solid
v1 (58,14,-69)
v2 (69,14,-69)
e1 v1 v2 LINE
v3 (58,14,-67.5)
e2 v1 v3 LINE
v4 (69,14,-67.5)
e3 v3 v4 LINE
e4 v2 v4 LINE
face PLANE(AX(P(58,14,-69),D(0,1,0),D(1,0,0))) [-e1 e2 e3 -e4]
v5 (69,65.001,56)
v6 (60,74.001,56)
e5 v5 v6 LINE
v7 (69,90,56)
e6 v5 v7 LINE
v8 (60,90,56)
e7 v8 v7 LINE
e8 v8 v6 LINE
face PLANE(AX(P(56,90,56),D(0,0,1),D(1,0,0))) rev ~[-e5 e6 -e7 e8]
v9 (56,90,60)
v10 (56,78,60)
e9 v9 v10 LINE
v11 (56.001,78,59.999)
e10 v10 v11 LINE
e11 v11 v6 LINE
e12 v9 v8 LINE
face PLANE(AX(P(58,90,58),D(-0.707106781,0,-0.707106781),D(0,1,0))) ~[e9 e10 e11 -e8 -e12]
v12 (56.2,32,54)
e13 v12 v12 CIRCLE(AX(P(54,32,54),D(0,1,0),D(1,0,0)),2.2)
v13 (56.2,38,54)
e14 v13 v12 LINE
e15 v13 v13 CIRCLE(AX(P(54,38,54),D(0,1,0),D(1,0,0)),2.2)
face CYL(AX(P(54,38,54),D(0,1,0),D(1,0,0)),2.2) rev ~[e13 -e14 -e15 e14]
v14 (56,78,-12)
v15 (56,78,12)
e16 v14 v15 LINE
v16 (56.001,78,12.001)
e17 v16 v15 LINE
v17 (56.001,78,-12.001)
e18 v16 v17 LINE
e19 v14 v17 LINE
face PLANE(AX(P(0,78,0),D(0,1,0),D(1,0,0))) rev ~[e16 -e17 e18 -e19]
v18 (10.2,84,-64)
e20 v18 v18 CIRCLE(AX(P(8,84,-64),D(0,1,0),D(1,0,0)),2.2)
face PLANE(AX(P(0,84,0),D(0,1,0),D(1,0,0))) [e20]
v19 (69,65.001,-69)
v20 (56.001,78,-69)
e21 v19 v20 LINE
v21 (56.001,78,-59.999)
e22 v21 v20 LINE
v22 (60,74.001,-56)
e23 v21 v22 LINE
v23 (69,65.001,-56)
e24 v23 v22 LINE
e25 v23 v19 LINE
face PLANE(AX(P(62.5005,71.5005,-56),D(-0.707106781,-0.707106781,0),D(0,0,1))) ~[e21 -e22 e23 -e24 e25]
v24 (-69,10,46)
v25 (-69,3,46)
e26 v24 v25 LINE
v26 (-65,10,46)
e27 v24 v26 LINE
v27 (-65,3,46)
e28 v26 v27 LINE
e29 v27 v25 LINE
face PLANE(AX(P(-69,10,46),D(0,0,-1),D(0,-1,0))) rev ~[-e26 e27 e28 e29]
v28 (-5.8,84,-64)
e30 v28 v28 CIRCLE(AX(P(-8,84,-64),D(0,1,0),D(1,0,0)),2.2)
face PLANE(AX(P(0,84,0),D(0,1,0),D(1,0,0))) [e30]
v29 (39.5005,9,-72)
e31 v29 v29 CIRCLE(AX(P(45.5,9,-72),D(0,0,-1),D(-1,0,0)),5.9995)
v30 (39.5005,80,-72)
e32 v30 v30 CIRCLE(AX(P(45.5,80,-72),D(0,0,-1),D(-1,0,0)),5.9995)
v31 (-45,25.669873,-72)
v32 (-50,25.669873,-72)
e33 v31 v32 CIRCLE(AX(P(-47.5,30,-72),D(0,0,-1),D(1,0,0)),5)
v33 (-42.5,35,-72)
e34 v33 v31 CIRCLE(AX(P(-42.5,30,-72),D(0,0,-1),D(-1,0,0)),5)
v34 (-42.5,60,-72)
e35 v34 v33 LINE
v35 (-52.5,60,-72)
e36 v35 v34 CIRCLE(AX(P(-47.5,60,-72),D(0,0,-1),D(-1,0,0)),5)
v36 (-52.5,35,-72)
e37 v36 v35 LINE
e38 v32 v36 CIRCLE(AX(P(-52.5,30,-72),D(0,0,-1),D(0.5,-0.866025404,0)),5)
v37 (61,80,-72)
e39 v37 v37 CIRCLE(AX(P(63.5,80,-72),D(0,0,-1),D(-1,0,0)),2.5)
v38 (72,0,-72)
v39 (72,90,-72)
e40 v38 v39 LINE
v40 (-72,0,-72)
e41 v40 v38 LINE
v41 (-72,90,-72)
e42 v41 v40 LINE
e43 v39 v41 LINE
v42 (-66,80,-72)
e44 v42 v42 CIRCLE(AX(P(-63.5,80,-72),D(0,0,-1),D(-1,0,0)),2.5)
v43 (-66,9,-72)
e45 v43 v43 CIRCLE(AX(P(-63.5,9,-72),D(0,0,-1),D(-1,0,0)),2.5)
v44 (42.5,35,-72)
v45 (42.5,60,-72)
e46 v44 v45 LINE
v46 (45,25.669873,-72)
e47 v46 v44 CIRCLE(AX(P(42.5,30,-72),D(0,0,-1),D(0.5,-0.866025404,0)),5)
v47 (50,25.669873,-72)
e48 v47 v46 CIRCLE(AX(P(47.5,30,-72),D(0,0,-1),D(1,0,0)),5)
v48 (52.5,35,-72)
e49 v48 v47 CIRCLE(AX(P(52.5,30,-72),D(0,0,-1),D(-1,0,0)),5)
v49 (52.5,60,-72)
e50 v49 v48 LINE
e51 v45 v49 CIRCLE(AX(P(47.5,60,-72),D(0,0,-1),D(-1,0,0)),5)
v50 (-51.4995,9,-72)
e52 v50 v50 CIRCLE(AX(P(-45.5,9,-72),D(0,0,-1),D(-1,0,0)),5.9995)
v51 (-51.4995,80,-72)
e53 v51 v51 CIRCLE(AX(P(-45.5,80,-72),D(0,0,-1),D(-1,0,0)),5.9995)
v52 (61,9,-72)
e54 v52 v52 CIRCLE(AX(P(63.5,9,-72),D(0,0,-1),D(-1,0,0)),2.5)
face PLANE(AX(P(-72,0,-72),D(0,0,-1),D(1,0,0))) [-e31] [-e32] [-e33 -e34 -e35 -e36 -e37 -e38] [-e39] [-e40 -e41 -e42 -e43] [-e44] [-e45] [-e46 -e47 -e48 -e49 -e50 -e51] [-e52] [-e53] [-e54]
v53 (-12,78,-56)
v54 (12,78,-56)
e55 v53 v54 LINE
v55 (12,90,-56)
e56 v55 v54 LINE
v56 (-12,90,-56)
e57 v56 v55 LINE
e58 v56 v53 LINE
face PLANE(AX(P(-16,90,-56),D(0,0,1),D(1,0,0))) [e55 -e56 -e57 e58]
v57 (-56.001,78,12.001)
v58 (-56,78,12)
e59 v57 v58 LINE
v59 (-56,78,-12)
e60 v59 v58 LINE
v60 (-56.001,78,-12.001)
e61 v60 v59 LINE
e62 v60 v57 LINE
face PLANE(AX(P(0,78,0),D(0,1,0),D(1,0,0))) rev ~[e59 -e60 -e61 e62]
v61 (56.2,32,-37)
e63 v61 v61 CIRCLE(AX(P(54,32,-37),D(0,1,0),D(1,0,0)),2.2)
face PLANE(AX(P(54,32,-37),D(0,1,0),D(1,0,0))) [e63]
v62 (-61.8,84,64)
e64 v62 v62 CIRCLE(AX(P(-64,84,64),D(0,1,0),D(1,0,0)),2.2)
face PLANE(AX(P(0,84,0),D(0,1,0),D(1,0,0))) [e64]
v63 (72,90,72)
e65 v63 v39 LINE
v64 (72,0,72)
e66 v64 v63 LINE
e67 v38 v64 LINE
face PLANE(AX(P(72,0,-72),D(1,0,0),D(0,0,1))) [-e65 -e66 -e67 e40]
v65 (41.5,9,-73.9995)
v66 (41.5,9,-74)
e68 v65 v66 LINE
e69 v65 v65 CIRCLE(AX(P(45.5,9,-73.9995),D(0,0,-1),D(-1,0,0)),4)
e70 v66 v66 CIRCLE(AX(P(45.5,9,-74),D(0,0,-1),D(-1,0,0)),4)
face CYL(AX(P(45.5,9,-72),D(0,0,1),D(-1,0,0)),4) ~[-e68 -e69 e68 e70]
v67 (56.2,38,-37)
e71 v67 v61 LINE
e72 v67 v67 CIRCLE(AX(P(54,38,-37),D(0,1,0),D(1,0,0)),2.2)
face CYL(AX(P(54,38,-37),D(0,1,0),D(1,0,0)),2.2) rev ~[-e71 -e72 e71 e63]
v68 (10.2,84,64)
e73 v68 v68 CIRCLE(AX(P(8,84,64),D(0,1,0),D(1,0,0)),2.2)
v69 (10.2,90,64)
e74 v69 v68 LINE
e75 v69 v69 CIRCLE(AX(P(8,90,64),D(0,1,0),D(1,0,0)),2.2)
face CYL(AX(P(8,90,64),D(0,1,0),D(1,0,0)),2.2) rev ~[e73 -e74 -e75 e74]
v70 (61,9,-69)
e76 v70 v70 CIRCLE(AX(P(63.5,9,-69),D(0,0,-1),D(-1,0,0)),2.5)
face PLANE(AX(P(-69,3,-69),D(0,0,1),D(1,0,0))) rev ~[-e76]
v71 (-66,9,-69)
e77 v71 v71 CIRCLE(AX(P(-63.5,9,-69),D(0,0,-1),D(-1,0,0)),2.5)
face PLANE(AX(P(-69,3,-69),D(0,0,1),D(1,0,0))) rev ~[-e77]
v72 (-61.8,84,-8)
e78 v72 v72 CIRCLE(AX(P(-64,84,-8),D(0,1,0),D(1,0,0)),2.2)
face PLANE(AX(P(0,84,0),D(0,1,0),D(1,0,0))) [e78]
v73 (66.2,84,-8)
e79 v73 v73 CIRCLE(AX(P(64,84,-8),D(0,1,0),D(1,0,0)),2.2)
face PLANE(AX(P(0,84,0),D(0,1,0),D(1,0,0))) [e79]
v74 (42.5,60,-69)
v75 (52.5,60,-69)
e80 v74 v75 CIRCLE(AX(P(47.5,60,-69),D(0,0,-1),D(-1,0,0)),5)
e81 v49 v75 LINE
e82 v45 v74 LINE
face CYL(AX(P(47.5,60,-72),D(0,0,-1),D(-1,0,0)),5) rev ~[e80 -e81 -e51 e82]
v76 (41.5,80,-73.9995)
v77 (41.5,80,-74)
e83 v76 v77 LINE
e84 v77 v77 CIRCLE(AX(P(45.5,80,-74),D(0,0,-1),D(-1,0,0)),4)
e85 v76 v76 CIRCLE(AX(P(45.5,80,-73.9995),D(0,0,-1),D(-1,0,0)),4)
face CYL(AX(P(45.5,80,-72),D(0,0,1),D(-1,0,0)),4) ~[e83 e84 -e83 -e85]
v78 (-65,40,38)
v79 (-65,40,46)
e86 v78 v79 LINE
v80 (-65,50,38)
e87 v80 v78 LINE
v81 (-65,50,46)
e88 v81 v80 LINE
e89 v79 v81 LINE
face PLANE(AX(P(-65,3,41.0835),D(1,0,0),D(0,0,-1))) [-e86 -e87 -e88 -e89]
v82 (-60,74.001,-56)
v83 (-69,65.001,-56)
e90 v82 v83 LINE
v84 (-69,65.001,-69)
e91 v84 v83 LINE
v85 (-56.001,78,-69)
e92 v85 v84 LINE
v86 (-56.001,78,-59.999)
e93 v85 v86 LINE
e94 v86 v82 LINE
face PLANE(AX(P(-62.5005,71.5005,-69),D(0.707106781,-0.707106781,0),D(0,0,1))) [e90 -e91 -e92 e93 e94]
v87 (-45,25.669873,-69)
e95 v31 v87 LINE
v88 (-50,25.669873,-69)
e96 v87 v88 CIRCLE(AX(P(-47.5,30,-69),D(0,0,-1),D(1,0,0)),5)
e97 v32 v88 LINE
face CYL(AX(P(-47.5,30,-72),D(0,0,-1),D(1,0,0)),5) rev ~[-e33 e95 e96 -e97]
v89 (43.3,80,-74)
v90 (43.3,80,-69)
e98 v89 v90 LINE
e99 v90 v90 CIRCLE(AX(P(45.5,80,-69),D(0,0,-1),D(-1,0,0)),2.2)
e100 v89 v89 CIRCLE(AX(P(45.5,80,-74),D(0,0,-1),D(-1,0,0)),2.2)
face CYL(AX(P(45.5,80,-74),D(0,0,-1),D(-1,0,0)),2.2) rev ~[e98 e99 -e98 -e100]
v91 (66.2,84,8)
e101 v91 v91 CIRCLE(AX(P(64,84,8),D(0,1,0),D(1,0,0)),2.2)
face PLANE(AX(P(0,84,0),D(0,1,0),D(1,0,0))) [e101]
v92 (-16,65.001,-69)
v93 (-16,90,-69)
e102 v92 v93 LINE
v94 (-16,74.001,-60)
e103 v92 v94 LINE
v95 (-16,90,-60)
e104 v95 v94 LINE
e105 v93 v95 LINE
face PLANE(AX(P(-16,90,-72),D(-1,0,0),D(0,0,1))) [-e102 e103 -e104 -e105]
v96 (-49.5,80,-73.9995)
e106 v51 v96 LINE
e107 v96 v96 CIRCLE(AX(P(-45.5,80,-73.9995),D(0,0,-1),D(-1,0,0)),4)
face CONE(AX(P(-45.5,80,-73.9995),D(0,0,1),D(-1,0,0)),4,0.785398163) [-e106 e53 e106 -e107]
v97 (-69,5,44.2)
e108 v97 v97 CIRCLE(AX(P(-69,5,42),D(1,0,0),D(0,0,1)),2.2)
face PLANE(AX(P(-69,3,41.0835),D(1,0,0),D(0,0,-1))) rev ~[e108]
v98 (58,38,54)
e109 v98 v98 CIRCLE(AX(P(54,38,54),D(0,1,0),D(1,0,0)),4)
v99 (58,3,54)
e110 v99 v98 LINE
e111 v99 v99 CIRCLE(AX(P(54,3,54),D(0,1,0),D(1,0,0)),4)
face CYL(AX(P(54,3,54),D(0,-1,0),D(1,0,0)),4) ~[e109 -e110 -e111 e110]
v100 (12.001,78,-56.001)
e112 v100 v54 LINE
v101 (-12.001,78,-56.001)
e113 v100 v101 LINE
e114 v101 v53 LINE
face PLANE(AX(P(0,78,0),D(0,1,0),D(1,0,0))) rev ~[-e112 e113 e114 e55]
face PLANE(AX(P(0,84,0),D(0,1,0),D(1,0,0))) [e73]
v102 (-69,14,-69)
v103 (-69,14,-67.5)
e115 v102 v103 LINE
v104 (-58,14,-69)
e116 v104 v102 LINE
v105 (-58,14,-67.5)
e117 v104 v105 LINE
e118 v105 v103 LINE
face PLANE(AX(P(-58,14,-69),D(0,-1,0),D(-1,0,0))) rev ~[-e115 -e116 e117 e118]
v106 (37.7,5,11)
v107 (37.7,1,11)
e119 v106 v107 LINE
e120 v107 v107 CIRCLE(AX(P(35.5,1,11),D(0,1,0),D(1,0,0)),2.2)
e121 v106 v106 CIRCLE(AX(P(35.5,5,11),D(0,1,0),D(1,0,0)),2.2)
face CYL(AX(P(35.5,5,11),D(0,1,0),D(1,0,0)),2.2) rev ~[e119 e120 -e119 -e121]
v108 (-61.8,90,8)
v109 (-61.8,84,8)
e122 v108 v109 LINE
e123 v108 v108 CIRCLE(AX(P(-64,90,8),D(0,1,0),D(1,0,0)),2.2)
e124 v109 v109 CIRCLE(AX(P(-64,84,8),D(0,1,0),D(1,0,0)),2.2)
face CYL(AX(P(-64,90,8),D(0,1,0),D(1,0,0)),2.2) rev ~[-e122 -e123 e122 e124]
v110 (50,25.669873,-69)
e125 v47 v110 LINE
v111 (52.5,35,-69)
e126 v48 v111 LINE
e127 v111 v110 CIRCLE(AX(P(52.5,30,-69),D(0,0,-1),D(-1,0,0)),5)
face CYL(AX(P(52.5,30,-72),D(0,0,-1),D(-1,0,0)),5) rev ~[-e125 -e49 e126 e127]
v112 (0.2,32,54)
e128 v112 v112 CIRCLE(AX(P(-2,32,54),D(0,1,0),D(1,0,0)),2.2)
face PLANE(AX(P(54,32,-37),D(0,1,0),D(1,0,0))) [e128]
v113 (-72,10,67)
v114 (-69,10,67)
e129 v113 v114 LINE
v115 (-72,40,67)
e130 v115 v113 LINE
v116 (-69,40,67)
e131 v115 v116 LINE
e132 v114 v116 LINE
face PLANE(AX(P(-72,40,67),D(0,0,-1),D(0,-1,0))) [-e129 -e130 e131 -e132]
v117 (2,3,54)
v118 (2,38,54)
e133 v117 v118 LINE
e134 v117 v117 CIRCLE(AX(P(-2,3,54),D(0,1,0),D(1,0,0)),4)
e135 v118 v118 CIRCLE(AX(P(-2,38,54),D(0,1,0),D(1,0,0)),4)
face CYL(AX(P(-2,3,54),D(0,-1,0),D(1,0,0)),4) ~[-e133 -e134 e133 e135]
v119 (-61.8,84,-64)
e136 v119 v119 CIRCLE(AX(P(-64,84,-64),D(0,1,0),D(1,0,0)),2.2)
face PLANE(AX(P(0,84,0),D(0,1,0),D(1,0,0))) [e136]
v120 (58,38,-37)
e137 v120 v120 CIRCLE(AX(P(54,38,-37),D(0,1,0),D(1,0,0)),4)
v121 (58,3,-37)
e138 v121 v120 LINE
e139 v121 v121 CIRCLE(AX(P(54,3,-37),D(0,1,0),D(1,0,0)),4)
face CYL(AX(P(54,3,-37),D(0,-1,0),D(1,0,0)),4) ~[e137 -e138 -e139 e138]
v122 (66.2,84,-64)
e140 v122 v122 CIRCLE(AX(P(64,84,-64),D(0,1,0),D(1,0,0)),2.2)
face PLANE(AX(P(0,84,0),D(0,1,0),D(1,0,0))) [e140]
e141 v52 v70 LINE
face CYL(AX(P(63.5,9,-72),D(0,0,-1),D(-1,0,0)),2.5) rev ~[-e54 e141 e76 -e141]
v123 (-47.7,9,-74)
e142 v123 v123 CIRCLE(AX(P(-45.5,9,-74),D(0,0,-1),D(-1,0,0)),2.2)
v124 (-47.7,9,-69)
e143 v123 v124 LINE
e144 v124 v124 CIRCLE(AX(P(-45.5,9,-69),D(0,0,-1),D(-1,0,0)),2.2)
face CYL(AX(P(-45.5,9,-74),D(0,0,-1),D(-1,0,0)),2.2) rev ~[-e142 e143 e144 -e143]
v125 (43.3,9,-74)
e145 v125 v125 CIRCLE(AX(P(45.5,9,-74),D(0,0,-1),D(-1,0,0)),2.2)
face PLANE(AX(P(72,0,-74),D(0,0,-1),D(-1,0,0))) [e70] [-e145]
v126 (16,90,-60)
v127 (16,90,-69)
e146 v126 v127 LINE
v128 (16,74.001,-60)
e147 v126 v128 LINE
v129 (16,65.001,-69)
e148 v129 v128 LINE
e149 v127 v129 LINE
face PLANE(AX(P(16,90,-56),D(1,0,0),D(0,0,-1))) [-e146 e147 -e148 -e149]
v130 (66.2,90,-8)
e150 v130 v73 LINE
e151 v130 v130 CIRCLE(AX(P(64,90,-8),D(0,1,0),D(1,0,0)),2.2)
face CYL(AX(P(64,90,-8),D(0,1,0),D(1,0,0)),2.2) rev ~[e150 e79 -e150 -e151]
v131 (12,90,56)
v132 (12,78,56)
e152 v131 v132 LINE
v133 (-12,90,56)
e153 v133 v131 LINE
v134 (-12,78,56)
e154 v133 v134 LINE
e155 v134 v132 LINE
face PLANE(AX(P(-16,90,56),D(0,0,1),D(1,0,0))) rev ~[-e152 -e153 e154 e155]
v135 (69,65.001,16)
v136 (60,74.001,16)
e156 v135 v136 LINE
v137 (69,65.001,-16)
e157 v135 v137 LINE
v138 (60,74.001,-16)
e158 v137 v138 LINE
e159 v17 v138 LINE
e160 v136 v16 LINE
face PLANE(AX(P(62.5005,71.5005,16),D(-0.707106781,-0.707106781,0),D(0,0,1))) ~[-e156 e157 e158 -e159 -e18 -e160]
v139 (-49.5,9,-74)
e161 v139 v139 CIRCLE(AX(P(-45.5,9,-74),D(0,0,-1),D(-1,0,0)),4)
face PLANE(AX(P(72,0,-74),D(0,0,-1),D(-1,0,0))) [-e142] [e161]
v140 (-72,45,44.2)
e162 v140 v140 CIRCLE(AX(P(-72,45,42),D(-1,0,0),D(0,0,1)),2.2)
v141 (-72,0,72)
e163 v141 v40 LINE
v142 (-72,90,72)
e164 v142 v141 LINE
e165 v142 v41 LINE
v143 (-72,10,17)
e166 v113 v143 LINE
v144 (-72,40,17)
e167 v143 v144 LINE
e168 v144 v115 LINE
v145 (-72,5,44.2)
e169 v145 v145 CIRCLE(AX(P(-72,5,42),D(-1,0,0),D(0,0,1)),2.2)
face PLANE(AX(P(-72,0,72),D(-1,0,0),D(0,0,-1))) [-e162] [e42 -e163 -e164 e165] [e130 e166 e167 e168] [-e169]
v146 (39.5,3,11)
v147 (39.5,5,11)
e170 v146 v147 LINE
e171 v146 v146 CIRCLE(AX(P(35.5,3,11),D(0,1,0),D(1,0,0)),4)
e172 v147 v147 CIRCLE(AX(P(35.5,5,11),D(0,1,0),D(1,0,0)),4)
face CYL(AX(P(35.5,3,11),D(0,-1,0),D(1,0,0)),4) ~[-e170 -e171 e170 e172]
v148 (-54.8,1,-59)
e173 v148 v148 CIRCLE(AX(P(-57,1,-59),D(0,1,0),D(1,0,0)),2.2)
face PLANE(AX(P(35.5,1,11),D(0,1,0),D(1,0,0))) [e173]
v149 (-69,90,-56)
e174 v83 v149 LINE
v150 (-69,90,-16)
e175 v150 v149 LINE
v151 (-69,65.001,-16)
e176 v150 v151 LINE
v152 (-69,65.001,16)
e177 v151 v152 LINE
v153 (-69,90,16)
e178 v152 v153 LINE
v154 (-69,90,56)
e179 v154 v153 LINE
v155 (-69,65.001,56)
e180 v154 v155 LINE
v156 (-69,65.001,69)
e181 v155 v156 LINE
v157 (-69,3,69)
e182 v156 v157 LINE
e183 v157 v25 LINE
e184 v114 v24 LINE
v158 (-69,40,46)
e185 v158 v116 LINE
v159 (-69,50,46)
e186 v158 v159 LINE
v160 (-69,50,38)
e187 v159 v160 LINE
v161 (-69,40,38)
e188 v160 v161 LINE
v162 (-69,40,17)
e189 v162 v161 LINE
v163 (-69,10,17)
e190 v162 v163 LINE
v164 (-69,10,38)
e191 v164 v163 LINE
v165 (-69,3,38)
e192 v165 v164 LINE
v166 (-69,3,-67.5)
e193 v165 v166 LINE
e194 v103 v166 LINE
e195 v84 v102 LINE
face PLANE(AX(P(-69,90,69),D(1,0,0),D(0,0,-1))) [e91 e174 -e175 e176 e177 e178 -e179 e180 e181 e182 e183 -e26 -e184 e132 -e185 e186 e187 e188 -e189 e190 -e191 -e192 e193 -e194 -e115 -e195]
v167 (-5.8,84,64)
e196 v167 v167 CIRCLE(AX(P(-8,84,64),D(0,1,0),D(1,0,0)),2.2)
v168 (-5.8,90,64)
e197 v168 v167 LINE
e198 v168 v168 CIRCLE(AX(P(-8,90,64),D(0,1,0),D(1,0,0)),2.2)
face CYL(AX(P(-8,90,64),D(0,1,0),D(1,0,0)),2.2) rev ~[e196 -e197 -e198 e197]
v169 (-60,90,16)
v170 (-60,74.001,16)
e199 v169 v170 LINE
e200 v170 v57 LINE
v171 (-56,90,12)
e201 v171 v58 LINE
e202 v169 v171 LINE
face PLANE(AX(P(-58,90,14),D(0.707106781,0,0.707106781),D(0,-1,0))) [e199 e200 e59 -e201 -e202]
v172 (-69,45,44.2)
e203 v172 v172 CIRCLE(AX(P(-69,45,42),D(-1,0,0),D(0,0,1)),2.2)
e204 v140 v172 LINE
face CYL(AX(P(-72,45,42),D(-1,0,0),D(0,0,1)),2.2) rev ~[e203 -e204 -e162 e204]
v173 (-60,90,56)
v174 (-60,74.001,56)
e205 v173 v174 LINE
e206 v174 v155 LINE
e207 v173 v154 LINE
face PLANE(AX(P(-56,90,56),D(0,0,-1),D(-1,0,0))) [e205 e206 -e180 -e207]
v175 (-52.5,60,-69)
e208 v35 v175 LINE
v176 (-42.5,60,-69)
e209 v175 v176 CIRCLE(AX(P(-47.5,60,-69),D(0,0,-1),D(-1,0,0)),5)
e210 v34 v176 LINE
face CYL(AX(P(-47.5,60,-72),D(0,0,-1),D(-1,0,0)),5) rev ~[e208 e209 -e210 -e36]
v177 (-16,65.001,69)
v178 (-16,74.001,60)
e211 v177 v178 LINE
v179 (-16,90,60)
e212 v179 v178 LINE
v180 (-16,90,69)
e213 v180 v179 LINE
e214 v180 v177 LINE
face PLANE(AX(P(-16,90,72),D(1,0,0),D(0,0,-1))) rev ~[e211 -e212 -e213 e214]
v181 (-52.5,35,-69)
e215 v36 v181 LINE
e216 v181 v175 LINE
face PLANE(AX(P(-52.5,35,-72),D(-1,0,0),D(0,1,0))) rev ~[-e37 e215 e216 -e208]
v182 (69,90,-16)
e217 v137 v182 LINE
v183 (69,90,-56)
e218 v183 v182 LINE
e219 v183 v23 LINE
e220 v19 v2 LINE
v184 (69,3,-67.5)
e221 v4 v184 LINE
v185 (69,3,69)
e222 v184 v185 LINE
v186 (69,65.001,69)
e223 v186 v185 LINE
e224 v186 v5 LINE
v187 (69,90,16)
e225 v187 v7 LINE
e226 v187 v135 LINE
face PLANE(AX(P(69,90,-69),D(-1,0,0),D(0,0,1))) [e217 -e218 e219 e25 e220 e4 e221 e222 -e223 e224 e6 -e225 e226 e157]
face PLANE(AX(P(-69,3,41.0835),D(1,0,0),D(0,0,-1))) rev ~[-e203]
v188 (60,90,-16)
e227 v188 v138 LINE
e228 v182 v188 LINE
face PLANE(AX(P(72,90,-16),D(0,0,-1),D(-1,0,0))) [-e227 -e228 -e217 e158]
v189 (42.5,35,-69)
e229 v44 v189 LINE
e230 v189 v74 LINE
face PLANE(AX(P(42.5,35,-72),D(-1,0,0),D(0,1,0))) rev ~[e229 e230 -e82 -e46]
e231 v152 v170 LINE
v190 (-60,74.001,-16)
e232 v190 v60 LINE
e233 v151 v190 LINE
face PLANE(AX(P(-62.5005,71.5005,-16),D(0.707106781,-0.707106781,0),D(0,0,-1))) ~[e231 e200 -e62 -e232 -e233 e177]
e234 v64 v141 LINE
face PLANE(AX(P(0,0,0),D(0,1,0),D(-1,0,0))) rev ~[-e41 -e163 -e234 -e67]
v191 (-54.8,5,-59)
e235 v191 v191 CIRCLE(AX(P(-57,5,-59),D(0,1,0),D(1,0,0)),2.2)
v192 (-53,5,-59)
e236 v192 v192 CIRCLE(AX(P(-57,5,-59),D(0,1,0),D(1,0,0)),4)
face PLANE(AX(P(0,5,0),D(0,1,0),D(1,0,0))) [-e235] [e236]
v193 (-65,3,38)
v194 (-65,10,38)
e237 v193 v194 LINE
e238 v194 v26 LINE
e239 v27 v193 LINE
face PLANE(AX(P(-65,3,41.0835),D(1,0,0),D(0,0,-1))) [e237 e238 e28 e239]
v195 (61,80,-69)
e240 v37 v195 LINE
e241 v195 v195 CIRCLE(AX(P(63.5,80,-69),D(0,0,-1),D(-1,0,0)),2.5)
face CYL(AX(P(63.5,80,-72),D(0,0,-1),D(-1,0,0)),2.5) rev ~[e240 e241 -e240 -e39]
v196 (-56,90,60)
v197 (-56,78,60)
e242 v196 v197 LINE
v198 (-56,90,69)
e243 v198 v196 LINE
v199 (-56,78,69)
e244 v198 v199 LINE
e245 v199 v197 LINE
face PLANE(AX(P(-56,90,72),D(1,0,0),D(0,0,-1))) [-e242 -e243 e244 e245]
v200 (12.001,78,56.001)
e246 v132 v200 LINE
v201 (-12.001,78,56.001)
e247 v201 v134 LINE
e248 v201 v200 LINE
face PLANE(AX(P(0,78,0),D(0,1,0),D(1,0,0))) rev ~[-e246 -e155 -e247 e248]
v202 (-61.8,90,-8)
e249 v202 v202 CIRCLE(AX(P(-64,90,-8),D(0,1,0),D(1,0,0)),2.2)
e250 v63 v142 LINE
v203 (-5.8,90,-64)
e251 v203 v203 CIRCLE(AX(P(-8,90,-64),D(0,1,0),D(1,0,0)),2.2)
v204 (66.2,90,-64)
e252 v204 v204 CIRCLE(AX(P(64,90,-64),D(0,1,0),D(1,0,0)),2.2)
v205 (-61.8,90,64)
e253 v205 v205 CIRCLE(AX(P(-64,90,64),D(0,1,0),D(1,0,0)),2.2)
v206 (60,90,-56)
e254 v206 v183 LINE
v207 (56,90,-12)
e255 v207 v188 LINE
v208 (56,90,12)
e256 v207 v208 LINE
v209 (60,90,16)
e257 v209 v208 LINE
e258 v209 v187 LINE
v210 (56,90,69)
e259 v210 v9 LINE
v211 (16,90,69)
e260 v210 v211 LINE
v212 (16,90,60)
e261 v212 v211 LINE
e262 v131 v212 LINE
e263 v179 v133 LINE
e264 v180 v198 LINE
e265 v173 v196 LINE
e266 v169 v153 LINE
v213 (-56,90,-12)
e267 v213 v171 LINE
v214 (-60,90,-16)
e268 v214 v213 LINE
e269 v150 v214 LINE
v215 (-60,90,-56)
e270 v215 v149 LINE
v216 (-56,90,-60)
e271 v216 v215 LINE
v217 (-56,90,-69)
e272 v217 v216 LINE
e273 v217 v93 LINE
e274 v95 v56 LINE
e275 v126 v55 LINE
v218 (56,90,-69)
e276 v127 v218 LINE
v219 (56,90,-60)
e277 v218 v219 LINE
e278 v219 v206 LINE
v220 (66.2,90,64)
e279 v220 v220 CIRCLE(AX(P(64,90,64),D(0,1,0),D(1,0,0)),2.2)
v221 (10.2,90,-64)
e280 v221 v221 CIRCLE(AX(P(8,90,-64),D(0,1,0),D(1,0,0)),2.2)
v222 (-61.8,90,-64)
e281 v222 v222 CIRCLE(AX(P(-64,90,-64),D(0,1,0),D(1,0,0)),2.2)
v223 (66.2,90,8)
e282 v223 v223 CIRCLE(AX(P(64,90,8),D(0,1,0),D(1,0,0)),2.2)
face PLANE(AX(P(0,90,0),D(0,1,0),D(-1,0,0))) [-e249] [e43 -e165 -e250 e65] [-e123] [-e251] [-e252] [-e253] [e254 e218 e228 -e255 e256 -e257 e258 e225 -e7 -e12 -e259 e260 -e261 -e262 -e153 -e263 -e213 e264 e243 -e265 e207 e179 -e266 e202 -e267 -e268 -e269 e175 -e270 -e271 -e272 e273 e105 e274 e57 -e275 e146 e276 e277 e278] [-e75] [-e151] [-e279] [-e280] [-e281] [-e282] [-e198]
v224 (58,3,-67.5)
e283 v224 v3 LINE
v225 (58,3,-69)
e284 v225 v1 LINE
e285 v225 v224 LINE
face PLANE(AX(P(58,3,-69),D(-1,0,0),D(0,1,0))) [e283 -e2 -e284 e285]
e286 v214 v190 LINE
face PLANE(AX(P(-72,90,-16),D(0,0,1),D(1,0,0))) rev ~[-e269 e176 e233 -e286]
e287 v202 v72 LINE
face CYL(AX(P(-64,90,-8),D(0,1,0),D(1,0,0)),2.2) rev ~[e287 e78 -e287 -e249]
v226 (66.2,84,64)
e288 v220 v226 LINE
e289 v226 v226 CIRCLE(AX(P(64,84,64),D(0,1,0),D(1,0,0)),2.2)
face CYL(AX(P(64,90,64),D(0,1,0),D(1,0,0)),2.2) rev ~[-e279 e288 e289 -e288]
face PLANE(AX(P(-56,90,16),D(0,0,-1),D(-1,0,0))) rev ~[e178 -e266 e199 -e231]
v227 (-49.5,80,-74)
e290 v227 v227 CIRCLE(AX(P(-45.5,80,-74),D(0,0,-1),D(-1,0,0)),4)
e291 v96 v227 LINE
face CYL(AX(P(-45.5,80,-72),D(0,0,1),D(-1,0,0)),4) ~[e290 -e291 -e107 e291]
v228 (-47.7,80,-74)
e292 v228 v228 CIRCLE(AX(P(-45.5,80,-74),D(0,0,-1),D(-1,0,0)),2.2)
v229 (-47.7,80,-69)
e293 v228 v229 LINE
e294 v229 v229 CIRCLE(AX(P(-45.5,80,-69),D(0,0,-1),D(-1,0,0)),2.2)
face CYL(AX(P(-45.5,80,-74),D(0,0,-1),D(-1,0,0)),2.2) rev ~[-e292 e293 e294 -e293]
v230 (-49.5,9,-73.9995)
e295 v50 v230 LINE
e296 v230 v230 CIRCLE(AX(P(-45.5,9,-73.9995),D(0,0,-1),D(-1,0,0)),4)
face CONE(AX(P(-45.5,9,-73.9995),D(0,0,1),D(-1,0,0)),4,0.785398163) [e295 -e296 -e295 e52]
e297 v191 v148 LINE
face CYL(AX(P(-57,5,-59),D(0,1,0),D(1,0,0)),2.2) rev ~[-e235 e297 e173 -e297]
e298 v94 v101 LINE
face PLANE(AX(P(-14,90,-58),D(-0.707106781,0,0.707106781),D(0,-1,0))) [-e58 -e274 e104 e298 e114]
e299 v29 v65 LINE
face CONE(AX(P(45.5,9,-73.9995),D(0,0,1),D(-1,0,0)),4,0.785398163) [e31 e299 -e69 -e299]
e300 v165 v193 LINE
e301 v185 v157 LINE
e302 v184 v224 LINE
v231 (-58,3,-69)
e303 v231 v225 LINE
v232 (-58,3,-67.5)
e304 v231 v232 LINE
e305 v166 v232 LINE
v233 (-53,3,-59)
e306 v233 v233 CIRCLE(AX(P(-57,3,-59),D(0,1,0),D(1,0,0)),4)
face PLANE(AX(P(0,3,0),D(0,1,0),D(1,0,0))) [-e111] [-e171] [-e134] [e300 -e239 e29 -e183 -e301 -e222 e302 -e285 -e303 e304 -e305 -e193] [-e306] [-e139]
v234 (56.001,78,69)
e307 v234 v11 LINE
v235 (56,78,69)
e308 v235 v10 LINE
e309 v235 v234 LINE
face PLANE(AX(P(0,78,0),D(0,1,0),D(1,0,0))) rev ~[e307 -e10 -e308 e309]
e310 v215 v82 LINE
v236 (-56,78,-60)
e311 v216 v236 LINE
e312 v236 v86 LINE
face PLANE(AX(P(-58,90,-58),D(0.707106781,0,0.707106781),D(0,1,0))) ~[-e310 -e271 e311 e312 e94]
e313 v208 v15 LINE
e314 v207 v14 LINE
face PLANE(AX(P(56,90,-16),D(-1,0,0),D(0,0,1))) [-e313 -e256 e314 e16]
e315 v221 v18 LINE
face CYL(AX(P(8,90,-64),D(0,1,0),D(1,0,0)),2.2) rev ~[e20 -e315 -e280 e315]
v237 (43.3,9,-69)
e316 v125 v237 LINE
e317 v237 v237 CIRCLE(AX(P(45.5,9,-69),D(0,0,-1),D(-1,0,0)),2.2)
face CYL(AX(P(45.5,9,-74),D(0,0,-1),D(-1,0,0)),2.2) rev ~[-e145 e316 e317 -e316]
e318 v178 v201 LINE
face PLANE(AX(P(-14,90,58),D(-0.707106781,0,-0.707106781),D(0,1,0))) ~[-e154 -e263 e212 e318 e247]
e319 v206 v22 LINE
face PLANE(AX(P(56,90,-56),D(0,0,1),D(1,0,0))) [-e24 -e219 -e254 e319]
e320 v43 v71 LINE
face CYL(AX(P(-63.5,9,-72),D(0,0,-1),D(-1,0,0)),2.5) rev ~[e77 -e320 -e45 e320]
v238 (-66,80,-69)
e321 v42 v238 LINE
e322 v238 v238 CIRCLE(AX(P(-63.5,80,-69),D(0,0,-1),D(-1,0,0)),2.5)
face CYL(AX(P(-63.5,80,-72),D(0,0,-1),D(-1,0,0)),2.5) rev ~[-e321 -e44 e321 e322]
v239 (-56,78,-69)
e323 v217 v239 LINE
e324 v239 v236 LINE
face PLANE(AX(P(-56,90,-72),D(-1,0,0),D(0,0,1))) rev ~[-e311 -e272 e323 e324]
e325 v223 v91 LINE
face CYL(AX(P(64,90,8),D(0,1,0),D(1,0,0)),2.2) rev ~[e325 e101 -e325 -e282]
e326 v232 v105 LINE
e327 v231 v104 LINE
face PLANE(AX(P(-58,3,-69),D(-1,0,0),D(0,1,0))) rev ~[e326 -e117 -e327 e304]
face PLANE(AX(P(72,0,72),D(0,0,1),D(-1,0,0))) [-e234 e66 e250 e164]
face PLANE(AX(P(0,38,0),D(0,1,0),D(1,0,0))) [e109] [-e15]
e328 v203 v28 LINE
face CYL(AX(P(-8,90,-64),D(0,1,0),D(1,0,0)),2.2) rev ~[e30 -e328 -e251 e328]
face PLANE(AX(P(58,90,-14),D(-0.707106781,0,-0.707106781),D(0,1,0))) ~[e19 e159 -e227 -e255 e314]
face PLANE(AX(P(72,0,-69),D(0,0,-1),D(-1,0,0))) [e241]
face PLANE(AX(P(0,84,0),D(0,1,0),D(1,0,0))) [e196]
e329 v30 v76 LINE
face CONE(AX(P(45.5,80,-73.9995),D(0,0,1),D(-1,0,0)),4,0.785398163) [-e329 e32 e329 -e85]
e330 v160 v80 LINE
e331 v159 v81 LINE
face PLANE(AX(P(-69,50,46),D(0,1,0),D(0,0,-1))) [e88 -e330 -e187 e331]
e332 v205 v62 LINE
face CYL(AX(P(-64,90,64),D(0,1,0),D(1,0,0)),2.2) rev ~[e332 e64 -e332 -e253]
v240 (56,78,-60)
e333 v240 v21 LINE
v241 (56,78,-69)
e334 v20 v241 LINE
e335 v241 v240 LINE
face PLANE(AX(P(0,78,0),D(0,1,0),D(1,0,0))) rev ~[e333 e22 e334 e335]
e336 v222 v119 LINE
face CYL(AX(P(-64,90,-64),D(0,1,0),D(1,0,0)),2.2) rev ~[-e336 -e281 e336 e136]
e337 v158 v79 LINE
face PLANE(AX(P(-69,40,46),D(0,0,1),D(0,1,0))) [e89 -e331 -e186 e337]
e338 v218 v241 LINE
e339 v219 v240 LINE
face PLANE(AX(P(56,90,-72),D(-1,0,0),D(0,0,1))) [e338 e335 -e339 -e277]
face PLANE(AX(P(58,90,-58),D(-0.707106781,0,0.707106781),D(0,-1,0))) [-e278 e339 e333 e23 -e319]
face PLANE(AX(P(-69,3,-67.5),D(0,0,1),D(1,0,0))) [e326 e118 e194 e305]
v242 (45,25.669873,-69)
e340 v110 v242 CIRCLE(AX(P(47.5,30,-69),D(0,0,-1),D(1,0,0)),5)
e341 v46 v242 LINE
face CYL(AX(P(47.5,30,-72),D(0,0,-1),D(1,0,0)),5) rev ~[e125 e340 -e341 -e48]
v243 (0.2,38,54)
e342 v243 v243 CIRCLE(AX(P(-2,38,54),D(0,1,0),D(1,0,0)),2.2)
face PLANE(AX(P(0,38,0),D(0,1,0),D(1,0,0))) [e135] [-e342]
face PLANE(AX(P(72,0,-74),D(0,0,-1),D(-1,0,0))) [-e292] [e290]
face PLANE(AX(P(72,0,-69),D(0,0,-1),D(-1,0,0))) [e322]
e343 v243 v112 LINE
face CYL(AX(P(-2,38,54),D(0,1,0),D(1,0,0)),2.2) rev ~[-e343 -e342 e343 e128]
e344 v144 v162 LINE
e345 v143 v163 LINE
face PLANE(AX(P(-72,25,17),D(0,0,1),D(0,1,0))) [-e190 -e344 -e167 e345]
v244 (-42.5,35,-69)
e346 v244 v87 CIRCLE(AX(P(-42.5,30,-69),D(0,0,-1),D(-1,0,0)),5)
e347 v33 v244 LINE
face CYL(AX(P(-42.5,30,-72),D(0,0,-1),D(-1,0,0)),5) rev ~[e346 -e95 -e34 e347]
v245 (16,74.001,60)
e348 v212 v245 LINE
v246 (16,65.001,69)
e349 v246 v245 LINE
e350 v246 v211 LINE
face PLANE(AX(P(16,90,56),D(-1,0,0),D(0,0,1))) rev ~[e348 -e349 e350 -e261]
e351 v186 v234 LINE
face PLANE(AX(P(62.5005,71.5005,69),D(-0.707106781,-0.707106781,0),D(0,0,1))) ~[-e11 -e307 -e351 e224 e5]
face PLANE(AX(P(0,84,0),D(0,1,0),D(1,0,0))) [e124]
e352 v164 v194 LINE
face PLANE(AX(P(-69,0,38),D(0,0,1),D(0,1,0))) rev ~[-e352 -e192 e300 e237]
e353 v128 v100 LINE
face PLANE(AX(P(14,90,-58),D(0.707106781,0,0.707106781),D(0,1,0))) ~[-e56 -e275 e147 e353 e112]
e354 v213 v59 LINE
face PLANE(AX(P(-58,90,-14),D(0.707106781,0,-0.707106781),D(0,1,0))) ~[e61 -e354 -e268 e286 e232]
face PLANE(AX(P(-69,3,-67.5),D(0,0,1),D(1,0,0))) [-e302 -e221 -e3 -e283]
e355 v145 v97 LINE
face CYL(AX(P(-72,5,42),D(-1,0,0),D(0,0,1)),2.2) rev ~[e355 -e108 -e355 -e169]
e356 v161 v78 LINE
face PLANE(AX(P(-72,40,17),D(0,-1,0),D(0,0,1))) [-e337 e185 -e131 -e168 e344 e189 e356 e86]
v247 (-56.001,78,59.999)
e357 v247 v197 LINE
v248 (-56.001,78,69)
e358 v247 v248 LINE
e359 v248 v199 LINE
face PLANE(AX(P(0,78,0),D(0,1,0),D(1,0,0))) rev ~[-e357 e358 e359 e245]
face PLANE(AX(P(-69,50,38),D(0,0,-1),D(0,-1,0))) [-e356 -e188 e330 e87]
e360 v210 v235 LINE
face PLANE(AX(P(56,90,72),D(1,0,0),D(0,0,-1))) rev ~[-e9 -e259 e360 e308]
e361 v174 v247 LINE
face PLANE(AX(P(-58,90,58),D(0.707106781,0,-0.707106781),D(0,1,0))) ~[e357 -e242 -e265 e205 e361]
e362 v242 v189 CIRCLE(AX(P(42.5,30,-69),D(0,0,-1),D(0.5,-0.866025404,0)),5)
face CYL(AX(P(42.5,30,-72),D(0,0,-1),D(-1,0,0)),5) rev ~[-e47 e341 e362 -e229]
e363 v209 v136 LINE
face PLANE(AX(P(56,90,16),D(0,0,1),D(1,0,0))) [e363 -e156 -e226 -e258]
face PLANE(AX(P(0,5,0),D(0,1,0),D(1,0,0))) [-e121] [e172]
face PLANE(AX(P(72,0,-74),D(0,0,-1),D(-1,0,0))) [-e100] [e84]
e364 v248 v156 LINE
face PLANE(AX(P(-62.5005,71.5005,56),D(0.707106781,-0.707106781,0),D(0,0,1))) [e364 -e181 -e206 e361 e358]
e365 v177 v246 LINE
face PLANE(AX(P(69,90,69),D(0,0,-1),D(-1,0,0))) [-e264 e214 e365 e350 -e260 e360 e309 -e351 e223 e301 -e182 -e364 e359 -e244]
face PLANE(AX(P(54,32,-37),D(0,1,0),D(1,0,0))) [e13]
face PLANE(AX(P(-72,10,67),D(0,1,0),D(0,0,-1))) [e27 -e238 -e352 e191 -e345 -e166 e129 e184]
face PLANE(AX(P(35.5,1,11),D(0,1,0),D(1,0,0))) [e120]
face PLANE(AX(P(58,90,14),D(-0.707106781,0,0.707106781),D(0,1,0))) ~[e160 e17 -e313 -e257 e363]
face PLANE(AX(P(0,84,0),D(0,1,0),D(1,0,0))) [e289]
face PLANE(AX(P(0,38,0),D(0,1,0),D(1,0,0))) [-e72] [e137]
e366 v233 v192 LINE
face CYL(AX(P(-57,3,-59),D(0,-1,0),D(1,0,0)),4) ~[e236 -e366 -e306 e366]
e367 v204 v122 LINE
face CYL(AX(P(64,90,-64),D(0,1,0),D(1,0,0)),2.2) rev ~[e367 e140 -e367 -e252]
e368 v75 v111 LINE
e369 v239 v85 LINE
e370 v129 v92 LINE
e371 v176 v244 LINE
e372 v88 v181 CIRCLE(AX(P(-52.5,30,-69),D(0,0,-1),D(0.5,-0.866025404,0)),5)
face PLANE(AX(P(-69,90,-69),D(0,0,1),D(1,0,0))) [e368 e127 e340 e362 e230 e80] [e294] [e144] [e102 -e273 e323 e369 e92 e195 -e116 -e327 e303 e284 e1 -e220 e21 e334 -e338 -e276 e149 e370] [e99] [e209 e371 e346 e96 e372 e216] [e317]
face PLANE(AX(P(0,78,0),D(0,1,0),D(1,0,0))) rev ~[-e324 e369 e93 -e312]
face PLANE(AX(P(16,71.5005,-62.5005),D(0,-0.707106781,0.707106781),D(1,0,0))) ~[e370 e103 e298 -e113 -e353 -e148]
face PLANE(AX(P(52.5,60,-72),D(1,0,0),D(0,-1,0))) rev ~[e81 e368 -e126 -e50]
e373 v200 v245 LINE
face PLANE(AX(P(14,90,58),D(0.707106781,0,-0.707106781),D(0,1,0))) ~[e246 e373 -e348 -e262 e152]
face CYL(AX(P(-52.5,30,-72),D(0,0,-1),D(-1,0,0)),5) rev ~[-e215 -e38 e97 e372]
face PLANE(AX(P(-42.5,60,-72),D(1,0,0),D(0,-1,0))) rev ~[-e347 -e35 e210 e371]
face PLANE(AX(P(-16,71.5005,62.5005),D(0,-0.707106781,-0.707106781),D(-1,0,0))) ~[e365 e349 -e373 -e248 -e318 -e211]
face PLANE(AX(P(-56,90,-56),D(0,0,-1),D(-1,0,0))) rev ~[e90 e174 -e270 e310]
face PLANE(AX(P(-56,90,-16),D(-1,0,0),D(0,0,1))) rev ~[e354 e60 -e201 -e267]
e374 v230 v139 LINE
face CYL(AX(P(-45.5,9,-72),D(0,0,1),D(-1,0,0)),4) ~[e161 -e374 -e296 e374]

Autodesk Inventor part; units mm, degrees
ref_plane "YZ Plane" through (0, 0, 0) normal (1, 0, 0) x (0, 1, 0)
ref_plane "XZ Plane" through (0, 0, 0) normal (0, 1, 0) x (-1, 0, 0)
ref_plane "XY Plane" through (0, 0, 0) normal (0, 0, 1) x (1, 0, 0)
sketch "Skizze1" plane through (0, 0, 0) normal (0, 1, 0) x (-1, 0, 0)
  line L0 (-72, 72) -> (72, 72)
  line L1 (72, 72) -> (72, -72)
  line L2 (72, -72) -> (-72, -72)
  line L3 (-72, -72) -> (-72, 72)
  line L4 (-72, 72) -> (72, -72) construction
  line L5 (72, 72) -> (-72, -72) construction
  point P0 (0, 0)
  dimension "d0" = 144
  dimension "d1" = 144
extrude "Extrusion1" add sketch "Skizze1" along normal blind 90
sketch "Skizze2" plane through (0, 90, 0) normal (0, 1, 0) x (1, 0, 0)
  line L0 (69, -69) -> (-69, -69)
  line L1 (-69, -69) -> (-69, 69)
  line L2 (-69, 69) -> (69, 69)
  line L3 (69, 69) -> (69, -69)
  line L4 (69, -69) -> (-69, 69) construction
  line L5 (-69, -69) -> (69, 69) construction
  line L6 (-72, 72) -> (-72, -72) projected
  line L7 (-72, -72) -> (72, -72) projected
  point P0 (0, 0)
  dimension "WALL" = 3
  dimension "d5" = 3
extrude "Extrusion2" cut sketch "Skizze2" against normal blind 87
sketch "Skizze7" plane through (-72, 0, -72) normal (-1, 0, 0) x (0, 0, 1)
  line L0 (89, 40) -> (139, 40)
  line L1 (139, 40) -> (139, 10)
  line L2 (139, 10) -> (89, 10)
  line L3 (89, 10) -> (89, 40)
  circle A0 centre (114, 45) radius 2.2
  line L4 (89, 25) -> (139, 25)
  circle A1 centre (114, 5) radius 2.2
  line L5 (144, 0) -> (144, 90) projected
  line L6 (0, 0) -> (144, 0) projected
  point P0 (72, 0)
  point P1 (114, 40)
  dimension "d35" = 30
  dimension "d36" = 50
  dimension "d37" = 4.4
  dimension "d38" = 40
  dimension "d41" = 5
  dimension "d42" = 10
extrude "Extrusion4" cut sketch "Skizze7" against normal blind 3
sketch "Skizze8" plane through (0, 90, 0) normal (0, 1, 0) x (1, 0, 0)
  line L0 (72, 72) -> (-72, 72) projected
  line L1 (72, 72) -> (56, 72)
  line L2 (56, 72) -> (56, 56)
  line L3 (56, 56) -> (72, 56)
  line L4 (72, 56) -> (72, 72)
  line L5 (-72, -72) -> (72, -72) projected
  line L6 (72, -72) -> (56, -72)
  line L7 (56, -72) -> (56, -56)
  line L8 (56, -56) -> (72, -56)
  line L9 (72, -56) -> (72, -72)
  line L10 (-72, -72) -> (-56, -72)
  line L11 (-56, -72) -> (-56, -56)
  line L12 (-56, -56) -> (-72, -56)
  line L13 (-72, -56) -> (-72, -72)
  line L14 (-72, 72) -> (-56, 72)
  line L15 (-56, 72) -> (-56, 56)
  line L16 (-56, 56) -> (-72, 56)
  line L17 (-72, 56) -> (-72, 72)
  line L18 (16, 72) -> (-16, 72)
  line L19 (-16, 72) -> (-16, 56)
  line L20 (-16, 56) -> (16, 56)
  line L21 (16, 56) -> (16, 72)
  line L22 (16, -72) -> (-16, -72)
  line L23 (-16, -72) -> (-16, -56)
  line L24 (-16, -56) -> (16, -56)
  line L25 (16, -56) -> (16, -72)
  line L26 (72, -72) -> (72, 72) projected
  line L27 (72, 16) -> (56, 16)
  line L28 (56, 16) -> (56, -16)
  line L29 (56, -16) -> (72, -16)
  line L30 (72, -16) -> (72, 16)
  line L31 (-72, 72) -> (-72, -72) projected
  line L32 (-72, 16) -> (-56, 16)
  line L33 (-56, 16) -> (-56, -16)
  line L34 (-56, -16) -> (-72, -16)
  line L35 (-72, -16) -> (-72, 16)
  point P0 (0, 0)
  point P1 (0, 56)
  point P2 (-56, 0)
  point P3 (56, 0)
  point P4 (-16, 72)
  point P5 (-72, -16)
  point P6 (-16, -72)
  dimension "d43" = 16
  dimension "INSERT_BLOCK" = 16
  dimension "d45" = 16
  dimension "d46" = 16
  dimension "d47" = 16
  dimension "d48" = 16
  dimension "d49" = 16
  dimension "d50" = 16
  dimension "d51" = 32
  dimension "d52" = 16
  dimension "d53" = 16
  dimension "d54" = 32
  dimension "d55" = 32
  dimension "d56" = 16
extrude "Extrusion5" add sketch "Skizze8" against normal blind 12 contours L4 L3 L2 L0 | L21 L20 L19 L0 | L26 L29 L28 L27 | L15 L16 L17 L0 | L9 L5 L7 L8 | L32 L33 L34 L31 | L5 L23 L24 L25 | L12 L11 L5 L13
chamfer "Fasen1" distance 13 angle 45 8 edges at (69, 78, -62.5) (69, 78, 0) (69, 78, 62.5) (0, 78, 69) (-69, 78, 62.5) (-69, 78, 0) (0, 78, -69) (-69, 78, -62.5)
sketch "Skizze9" plane through (0, 90, 0) normal (0, 1, 0) x (1, 0, 0)
  circle A0 centre (64, 64) radius 2.2
  line L0 (72, 72) -> (-72, 72) projected
  line L1 (72, -72) -> (72, 72) projected
  circle A1 centre (64, 8) radius 2.2
  circle A2 centre (8, 64) radius 2.2
  circle A3 centre (8, 8) radius 2.2
  circle A4 centre (64, -8) radius 2.2
  circle A5 centre (64, -64) radius 2.2
  circle A6 centre (8, -64) radius 2.2
  circle A7 centre (8, -8) radius 2.2
  circle A8 centre (-8, 64) radius 2.2
  circle A9 centre (-8, 8) radius 2.2
  circle A10 centre (-64, 8) radius 2.2
  circle A11 centre (-64, 64) radius 2.2
  circle A12 centre (-8, -8) radius 2.2
  circle A13 centre (-8, -64) radius 2.2
  circle A14 centre (-64, -64) radius 2.2
  circle A15 centre (-64, -8) radius 2.2
  point P0 (0, 0)
  dimension "INSERT_DIAMETER" = 4.4
  dimension "d63" = 8
  dimension "d64" = 8
  dimension "d68" = 56
  dimension "d71" = 56
  dimension "d76" = 72
  dimension "d79" = 72
extrude "Extrusion6" cut sketch "Skizze9" against normal blind 6
chamfer "Fasen2" distance 4 angle 45 12 edges at (56, 84, -56) (56, 84, -16) (56, 84, 16) (56, 84, 56) (16, 84, 56) (-16, 84, 56) (16, 84, -56) (-16, 84, -56) (-56, 84, -56) (-56, 84, -16) (-56, 84, 16) (-56, 84, 56)
sketch "Skizze10" plane through (-69, 3, 41.0835) normal (1, 0, 0) x (0, 0, -1)
  line L0 (3.0835, -3) -> (3.0835, 7)
  line L1 (3.0835, 7) -> (-4.9165, 7)
  line L2 (-4.9165, 7) -> (-4.9165, -3)
  line L3 (-4.9165, -3) -> (3.0835, -3)
  line L4 (3.0835, -3) -> (-4.9165, 7) construction
  line L5 (3.0835, 7) -> (-4.9165, -3) construction
  line L6 (3.0835, 47) -> (3.0835, 37)
  line L7 (3.0835, 37) -> (-4.9165, 37)
  line L8 (-4.9165, 37) -> (-4.9165, 47)
  line L9 (-4.9165, 47) -> (3.0835, 47)
  line L10 (3.0835, 47) -> (-4.9165, 37) construction
  line L11 (3.0835, 37) -> (-4.9165, 47) construction
  point P0 (41.0835, -3)
  point P1 (-0.9165, 2)
  point P2 (-0.9165, 42)
  dimension "d93" = 8
  dimension "d94" = 8
extrude "Extrusion7" add sketch "Skizze10" along normal blind 4
sketch "Skizze11" plane through (0, 3, 0) normal (0, 1, 0) x (1, 0, 0)
  circle A0 centre (-57, 59) radius 4
  circle A1 centre (35.5, -11) radius 4
  line L0 (-69, 69) -> (69, 69) projected
  line L1 (-69, -38) -> (-69, 69) projected
  point P0 (0, 0)
  dimension "d95" = 8
  dimension "d96" = 8
  dimension "d97" = 10
  dimension "d98" = 12
  dimension "d99" = 70
  dimension "d100" = 92.5
extrude "Extrusion8" add sketch "Skizze11" along normal blind 2
sketch "Skizze12" plane through (35.5, 5, 11) normal (0, 1, 0) x (1, 0, 0)
  circle A0 centre (0, 0) radius 2.2
  circle A1 centre (-92.5, 70) radius 4 projected
  circle A2 centre (-92.5, 70) radius 2.2
  point P0 (-35.5, 11)
  dimension "d103" = 4.4
  dimension "d104" = 4.4
extrude "Extrusion9" cut sketch "Skizze12" against normal blind 4 contours A0 | A2
sketch "Skizze13" plane through (72, 0, -72) normal (0, 0, -1) x (-1, 0, 0)
  circle A0 centre (26.5, 80) radius 4
  line L0 (0, 90) -> (144, 90) projected
  line L1 (0, 0) -> (0, 90) projected
  circle A1 centre (117.5, 80) radius 4
  circle A2 centre (26.5, 9) radius 4
  circle A3 centre (117.5, 9) radius 4
  point P0 (72, 0)
  point P1 (72, 90)
  dimension "d107" = 8
  dimension "d108" = 45.5
  dimension "d109" = 10
  dimension "d112" = 91
  dimension "d115" = 71
extrude "Extrusion10" add sketch "Skizze13" along normal blind 2
sketch "Skizze14" plane through (45.5, 80, -74) normal (0, 0, -1) x (-1, 0, 0)
  circle A0 centre (0, 0) radius 4 projected
  circle A1 centre (0, 0) radius 2.2
  circle A2 centre (91, 0) radius 4 projected
  circle A3 centre (91, 0) radius 2.2
  circle A4 centre (0, -71) radius 4 projected
  circle A5 centre (0, -71) radius 2.2
  circle A6 centre (91, -71) radius 4 projected
  circle A7 centre (91, -71) radius 2.2
  point P0 (45.5, -80)
  dimension "d120" = 4.4
  dimension "d121" = 4.4
  dimension "d122" = 4.4
  dimension "d123" = 4.4
extrude "Extrusion11" cut sketch "Skizze14" against normal up to surface (5 mm away) contours A1 | A3 | A5 | A7
chamfer "Fasen3" distance 2 angle 45 4 edges at (49.5, 80, -72) (-41.5, 80, -72) (-41.5, 9, -72) (49.5, 9, -72)
sketch "Skizze15" plane through (72, 0, -72) normal (0, 0, -1) x (-1, 0, 0)
  line L0 (24.5, 30) -> (24.5, 60) construction
  line L1 (29.5, 30) -> (29.5, 60)
  line L2 (19.5, 60) -> (19.5, 30)
  arc A0 (19.5, 30) -> (29.5, 30) centre (24.5, 30) ccw
  arc A1 (29.5, 60) -> (19.5, 60) centre (24.5, 60) ccw
  circle A2 centre (29.5, 30) radius 5
  circle A3 centre (19.5, 30) radius 5
  circle A4 centre (26.5, 80) radius 2.2 projected
  line L3 (0, 0) -> (0, 90) projected
  point P0 (72, 0)
  point P1 (24.5, 45)
  point P2 (24.5, 65)
  point P3 (19.5, 45)
  point P4 (0, 45)
  point P5 (29.5, 35)
  point P6 (19.5, 35)
  point P7 (22, 25.6699)
  point P8 (27, 25.6699)
  dimension "d129" = 30
  dimension "d130" = 10
  dimension "d136" = 2
extrude "Extrusion12" cut sketch "Skizze15" against normal up to surface (3 mm away) contours A0 A2 L1 | L1 A2 A0 | A2 A3 L2 A1 L1 | A0 A3 A2 | A3 A0 L2 | A3 L2 A0
pattern_linear "Rechteckige Anordnung1" count 2 spacing 95 along (-1, 0, 0) of "Extrusion12"
sketch "Skizze16" plane through (72, 0, -72) normal (0, 0, -1) x (-1, 0, 0)
  circle A0 centre (8.5, 80) radius 2.5
  circle A1 centre (26.5, 80) radius 2.2 projected
  circle A2 centre (117.5, 80) radius 2.2 projected
  line L0 (0, 90) -> (144, 90) projected
  line L1 (0, 0) -> (0, 90) projected
  circle A3 centre (135.5, 80) radius 2.5
  circle A4 centre (8.5, 9) radius 2.5
  circle A5 centre (135.5, 9) radius 2.5
  point P0 (72, 0)
  dimension "d137" = 5
  dimension "d138" = 18
  dimension "d141" = 127
  dimension "d144" = 71
extrude "Extrusion13" cut sketch "Skizze16" against normal blind 3 contours A0 | A3 | A4 | A5
sketch "Skizze18" plane through (-69, 3, -69) normal (0, 0, 1) x (1, 0, 0)
  line L0 (0, 62) -> (0, 0) projected
  line L1 (0, 0) -> (11, 0)
  line L2 (11, 0) -> (11, 11)
  line L3 (11, 11) -> (0, 11)
  line L4 (0, 11) -> (0, 0)
  line L5 (138, 62) -> (138, 0) projected
  line L6 (138, 0) -> (127, 0)
  line L7 (127, 0) -> (127, 11)
  line L8 (127, 11) -> (138, 11)
  line L9 (138, 11) -> (138, 0)
  point P0 (69, -3)
  dimension "d151" = 11
  dimension "d152" = 11
  dimension "d153" = 11
  dimension "d154" = 11
extrude "Extrusion15" add sketch "Skizze18" along normal blind 1.5
sketch "Skizze19" plane through (0, 3, 0) normal (0, 1, 0) x (1, 0, 0)
  line L0 (69, -69) -> (-69, -69) projected
  line L1 (69, 67.5) -> (69, -69) projected
  circle A0 centre (54, 37) radius 4
  circle A1 centre (54, -54) radius 4
  circle A2 centre (-2, -54) radius 4
  point P0 (0, 0)
  dimension "d157" = 91
  dimension "d158" = 56
  dimension "d159" = 15
  dimension "d160" = 15
  dimension "d161" = 8
  dimension "d162" = 8
  dimension "d163" = 8
extrude "Extrusion16" add sketch "Skizze19" along normal blind 35
sketch "Skizze20" plane through (54, 38, -37) normal (0, 1, 0) x (1, 0, 0)
  circle A0 centre (0, 0) radius 4 projected
  circle A1 centre (0, 0) radius 2.2
  circle A2 centre (0, -91) radius 4 projected
  circle A3 centre (0, -91) radius 2.2
  circle A4 centre (-56, -91) radius 4 projected
  circle A5 centre (-56, -91) radius 2.2
  point P0 (-54, -37)
  dimension "d166" = 4.4
  dimension "d167" = 4.4
  dimension "d168" = 4.4
extrude "Extrusion17" cut sketch "Skizze20" against normal blind 6 contours A1 | A3 | A5
equation "\"d5\" = WALL"
equation "\"d6\" = BOX_HEIGHT - WALL"
equation "\"d39\" = WALL"
equation "\"BOX_HEIGHT\" = 90"
properties part number "Box"
